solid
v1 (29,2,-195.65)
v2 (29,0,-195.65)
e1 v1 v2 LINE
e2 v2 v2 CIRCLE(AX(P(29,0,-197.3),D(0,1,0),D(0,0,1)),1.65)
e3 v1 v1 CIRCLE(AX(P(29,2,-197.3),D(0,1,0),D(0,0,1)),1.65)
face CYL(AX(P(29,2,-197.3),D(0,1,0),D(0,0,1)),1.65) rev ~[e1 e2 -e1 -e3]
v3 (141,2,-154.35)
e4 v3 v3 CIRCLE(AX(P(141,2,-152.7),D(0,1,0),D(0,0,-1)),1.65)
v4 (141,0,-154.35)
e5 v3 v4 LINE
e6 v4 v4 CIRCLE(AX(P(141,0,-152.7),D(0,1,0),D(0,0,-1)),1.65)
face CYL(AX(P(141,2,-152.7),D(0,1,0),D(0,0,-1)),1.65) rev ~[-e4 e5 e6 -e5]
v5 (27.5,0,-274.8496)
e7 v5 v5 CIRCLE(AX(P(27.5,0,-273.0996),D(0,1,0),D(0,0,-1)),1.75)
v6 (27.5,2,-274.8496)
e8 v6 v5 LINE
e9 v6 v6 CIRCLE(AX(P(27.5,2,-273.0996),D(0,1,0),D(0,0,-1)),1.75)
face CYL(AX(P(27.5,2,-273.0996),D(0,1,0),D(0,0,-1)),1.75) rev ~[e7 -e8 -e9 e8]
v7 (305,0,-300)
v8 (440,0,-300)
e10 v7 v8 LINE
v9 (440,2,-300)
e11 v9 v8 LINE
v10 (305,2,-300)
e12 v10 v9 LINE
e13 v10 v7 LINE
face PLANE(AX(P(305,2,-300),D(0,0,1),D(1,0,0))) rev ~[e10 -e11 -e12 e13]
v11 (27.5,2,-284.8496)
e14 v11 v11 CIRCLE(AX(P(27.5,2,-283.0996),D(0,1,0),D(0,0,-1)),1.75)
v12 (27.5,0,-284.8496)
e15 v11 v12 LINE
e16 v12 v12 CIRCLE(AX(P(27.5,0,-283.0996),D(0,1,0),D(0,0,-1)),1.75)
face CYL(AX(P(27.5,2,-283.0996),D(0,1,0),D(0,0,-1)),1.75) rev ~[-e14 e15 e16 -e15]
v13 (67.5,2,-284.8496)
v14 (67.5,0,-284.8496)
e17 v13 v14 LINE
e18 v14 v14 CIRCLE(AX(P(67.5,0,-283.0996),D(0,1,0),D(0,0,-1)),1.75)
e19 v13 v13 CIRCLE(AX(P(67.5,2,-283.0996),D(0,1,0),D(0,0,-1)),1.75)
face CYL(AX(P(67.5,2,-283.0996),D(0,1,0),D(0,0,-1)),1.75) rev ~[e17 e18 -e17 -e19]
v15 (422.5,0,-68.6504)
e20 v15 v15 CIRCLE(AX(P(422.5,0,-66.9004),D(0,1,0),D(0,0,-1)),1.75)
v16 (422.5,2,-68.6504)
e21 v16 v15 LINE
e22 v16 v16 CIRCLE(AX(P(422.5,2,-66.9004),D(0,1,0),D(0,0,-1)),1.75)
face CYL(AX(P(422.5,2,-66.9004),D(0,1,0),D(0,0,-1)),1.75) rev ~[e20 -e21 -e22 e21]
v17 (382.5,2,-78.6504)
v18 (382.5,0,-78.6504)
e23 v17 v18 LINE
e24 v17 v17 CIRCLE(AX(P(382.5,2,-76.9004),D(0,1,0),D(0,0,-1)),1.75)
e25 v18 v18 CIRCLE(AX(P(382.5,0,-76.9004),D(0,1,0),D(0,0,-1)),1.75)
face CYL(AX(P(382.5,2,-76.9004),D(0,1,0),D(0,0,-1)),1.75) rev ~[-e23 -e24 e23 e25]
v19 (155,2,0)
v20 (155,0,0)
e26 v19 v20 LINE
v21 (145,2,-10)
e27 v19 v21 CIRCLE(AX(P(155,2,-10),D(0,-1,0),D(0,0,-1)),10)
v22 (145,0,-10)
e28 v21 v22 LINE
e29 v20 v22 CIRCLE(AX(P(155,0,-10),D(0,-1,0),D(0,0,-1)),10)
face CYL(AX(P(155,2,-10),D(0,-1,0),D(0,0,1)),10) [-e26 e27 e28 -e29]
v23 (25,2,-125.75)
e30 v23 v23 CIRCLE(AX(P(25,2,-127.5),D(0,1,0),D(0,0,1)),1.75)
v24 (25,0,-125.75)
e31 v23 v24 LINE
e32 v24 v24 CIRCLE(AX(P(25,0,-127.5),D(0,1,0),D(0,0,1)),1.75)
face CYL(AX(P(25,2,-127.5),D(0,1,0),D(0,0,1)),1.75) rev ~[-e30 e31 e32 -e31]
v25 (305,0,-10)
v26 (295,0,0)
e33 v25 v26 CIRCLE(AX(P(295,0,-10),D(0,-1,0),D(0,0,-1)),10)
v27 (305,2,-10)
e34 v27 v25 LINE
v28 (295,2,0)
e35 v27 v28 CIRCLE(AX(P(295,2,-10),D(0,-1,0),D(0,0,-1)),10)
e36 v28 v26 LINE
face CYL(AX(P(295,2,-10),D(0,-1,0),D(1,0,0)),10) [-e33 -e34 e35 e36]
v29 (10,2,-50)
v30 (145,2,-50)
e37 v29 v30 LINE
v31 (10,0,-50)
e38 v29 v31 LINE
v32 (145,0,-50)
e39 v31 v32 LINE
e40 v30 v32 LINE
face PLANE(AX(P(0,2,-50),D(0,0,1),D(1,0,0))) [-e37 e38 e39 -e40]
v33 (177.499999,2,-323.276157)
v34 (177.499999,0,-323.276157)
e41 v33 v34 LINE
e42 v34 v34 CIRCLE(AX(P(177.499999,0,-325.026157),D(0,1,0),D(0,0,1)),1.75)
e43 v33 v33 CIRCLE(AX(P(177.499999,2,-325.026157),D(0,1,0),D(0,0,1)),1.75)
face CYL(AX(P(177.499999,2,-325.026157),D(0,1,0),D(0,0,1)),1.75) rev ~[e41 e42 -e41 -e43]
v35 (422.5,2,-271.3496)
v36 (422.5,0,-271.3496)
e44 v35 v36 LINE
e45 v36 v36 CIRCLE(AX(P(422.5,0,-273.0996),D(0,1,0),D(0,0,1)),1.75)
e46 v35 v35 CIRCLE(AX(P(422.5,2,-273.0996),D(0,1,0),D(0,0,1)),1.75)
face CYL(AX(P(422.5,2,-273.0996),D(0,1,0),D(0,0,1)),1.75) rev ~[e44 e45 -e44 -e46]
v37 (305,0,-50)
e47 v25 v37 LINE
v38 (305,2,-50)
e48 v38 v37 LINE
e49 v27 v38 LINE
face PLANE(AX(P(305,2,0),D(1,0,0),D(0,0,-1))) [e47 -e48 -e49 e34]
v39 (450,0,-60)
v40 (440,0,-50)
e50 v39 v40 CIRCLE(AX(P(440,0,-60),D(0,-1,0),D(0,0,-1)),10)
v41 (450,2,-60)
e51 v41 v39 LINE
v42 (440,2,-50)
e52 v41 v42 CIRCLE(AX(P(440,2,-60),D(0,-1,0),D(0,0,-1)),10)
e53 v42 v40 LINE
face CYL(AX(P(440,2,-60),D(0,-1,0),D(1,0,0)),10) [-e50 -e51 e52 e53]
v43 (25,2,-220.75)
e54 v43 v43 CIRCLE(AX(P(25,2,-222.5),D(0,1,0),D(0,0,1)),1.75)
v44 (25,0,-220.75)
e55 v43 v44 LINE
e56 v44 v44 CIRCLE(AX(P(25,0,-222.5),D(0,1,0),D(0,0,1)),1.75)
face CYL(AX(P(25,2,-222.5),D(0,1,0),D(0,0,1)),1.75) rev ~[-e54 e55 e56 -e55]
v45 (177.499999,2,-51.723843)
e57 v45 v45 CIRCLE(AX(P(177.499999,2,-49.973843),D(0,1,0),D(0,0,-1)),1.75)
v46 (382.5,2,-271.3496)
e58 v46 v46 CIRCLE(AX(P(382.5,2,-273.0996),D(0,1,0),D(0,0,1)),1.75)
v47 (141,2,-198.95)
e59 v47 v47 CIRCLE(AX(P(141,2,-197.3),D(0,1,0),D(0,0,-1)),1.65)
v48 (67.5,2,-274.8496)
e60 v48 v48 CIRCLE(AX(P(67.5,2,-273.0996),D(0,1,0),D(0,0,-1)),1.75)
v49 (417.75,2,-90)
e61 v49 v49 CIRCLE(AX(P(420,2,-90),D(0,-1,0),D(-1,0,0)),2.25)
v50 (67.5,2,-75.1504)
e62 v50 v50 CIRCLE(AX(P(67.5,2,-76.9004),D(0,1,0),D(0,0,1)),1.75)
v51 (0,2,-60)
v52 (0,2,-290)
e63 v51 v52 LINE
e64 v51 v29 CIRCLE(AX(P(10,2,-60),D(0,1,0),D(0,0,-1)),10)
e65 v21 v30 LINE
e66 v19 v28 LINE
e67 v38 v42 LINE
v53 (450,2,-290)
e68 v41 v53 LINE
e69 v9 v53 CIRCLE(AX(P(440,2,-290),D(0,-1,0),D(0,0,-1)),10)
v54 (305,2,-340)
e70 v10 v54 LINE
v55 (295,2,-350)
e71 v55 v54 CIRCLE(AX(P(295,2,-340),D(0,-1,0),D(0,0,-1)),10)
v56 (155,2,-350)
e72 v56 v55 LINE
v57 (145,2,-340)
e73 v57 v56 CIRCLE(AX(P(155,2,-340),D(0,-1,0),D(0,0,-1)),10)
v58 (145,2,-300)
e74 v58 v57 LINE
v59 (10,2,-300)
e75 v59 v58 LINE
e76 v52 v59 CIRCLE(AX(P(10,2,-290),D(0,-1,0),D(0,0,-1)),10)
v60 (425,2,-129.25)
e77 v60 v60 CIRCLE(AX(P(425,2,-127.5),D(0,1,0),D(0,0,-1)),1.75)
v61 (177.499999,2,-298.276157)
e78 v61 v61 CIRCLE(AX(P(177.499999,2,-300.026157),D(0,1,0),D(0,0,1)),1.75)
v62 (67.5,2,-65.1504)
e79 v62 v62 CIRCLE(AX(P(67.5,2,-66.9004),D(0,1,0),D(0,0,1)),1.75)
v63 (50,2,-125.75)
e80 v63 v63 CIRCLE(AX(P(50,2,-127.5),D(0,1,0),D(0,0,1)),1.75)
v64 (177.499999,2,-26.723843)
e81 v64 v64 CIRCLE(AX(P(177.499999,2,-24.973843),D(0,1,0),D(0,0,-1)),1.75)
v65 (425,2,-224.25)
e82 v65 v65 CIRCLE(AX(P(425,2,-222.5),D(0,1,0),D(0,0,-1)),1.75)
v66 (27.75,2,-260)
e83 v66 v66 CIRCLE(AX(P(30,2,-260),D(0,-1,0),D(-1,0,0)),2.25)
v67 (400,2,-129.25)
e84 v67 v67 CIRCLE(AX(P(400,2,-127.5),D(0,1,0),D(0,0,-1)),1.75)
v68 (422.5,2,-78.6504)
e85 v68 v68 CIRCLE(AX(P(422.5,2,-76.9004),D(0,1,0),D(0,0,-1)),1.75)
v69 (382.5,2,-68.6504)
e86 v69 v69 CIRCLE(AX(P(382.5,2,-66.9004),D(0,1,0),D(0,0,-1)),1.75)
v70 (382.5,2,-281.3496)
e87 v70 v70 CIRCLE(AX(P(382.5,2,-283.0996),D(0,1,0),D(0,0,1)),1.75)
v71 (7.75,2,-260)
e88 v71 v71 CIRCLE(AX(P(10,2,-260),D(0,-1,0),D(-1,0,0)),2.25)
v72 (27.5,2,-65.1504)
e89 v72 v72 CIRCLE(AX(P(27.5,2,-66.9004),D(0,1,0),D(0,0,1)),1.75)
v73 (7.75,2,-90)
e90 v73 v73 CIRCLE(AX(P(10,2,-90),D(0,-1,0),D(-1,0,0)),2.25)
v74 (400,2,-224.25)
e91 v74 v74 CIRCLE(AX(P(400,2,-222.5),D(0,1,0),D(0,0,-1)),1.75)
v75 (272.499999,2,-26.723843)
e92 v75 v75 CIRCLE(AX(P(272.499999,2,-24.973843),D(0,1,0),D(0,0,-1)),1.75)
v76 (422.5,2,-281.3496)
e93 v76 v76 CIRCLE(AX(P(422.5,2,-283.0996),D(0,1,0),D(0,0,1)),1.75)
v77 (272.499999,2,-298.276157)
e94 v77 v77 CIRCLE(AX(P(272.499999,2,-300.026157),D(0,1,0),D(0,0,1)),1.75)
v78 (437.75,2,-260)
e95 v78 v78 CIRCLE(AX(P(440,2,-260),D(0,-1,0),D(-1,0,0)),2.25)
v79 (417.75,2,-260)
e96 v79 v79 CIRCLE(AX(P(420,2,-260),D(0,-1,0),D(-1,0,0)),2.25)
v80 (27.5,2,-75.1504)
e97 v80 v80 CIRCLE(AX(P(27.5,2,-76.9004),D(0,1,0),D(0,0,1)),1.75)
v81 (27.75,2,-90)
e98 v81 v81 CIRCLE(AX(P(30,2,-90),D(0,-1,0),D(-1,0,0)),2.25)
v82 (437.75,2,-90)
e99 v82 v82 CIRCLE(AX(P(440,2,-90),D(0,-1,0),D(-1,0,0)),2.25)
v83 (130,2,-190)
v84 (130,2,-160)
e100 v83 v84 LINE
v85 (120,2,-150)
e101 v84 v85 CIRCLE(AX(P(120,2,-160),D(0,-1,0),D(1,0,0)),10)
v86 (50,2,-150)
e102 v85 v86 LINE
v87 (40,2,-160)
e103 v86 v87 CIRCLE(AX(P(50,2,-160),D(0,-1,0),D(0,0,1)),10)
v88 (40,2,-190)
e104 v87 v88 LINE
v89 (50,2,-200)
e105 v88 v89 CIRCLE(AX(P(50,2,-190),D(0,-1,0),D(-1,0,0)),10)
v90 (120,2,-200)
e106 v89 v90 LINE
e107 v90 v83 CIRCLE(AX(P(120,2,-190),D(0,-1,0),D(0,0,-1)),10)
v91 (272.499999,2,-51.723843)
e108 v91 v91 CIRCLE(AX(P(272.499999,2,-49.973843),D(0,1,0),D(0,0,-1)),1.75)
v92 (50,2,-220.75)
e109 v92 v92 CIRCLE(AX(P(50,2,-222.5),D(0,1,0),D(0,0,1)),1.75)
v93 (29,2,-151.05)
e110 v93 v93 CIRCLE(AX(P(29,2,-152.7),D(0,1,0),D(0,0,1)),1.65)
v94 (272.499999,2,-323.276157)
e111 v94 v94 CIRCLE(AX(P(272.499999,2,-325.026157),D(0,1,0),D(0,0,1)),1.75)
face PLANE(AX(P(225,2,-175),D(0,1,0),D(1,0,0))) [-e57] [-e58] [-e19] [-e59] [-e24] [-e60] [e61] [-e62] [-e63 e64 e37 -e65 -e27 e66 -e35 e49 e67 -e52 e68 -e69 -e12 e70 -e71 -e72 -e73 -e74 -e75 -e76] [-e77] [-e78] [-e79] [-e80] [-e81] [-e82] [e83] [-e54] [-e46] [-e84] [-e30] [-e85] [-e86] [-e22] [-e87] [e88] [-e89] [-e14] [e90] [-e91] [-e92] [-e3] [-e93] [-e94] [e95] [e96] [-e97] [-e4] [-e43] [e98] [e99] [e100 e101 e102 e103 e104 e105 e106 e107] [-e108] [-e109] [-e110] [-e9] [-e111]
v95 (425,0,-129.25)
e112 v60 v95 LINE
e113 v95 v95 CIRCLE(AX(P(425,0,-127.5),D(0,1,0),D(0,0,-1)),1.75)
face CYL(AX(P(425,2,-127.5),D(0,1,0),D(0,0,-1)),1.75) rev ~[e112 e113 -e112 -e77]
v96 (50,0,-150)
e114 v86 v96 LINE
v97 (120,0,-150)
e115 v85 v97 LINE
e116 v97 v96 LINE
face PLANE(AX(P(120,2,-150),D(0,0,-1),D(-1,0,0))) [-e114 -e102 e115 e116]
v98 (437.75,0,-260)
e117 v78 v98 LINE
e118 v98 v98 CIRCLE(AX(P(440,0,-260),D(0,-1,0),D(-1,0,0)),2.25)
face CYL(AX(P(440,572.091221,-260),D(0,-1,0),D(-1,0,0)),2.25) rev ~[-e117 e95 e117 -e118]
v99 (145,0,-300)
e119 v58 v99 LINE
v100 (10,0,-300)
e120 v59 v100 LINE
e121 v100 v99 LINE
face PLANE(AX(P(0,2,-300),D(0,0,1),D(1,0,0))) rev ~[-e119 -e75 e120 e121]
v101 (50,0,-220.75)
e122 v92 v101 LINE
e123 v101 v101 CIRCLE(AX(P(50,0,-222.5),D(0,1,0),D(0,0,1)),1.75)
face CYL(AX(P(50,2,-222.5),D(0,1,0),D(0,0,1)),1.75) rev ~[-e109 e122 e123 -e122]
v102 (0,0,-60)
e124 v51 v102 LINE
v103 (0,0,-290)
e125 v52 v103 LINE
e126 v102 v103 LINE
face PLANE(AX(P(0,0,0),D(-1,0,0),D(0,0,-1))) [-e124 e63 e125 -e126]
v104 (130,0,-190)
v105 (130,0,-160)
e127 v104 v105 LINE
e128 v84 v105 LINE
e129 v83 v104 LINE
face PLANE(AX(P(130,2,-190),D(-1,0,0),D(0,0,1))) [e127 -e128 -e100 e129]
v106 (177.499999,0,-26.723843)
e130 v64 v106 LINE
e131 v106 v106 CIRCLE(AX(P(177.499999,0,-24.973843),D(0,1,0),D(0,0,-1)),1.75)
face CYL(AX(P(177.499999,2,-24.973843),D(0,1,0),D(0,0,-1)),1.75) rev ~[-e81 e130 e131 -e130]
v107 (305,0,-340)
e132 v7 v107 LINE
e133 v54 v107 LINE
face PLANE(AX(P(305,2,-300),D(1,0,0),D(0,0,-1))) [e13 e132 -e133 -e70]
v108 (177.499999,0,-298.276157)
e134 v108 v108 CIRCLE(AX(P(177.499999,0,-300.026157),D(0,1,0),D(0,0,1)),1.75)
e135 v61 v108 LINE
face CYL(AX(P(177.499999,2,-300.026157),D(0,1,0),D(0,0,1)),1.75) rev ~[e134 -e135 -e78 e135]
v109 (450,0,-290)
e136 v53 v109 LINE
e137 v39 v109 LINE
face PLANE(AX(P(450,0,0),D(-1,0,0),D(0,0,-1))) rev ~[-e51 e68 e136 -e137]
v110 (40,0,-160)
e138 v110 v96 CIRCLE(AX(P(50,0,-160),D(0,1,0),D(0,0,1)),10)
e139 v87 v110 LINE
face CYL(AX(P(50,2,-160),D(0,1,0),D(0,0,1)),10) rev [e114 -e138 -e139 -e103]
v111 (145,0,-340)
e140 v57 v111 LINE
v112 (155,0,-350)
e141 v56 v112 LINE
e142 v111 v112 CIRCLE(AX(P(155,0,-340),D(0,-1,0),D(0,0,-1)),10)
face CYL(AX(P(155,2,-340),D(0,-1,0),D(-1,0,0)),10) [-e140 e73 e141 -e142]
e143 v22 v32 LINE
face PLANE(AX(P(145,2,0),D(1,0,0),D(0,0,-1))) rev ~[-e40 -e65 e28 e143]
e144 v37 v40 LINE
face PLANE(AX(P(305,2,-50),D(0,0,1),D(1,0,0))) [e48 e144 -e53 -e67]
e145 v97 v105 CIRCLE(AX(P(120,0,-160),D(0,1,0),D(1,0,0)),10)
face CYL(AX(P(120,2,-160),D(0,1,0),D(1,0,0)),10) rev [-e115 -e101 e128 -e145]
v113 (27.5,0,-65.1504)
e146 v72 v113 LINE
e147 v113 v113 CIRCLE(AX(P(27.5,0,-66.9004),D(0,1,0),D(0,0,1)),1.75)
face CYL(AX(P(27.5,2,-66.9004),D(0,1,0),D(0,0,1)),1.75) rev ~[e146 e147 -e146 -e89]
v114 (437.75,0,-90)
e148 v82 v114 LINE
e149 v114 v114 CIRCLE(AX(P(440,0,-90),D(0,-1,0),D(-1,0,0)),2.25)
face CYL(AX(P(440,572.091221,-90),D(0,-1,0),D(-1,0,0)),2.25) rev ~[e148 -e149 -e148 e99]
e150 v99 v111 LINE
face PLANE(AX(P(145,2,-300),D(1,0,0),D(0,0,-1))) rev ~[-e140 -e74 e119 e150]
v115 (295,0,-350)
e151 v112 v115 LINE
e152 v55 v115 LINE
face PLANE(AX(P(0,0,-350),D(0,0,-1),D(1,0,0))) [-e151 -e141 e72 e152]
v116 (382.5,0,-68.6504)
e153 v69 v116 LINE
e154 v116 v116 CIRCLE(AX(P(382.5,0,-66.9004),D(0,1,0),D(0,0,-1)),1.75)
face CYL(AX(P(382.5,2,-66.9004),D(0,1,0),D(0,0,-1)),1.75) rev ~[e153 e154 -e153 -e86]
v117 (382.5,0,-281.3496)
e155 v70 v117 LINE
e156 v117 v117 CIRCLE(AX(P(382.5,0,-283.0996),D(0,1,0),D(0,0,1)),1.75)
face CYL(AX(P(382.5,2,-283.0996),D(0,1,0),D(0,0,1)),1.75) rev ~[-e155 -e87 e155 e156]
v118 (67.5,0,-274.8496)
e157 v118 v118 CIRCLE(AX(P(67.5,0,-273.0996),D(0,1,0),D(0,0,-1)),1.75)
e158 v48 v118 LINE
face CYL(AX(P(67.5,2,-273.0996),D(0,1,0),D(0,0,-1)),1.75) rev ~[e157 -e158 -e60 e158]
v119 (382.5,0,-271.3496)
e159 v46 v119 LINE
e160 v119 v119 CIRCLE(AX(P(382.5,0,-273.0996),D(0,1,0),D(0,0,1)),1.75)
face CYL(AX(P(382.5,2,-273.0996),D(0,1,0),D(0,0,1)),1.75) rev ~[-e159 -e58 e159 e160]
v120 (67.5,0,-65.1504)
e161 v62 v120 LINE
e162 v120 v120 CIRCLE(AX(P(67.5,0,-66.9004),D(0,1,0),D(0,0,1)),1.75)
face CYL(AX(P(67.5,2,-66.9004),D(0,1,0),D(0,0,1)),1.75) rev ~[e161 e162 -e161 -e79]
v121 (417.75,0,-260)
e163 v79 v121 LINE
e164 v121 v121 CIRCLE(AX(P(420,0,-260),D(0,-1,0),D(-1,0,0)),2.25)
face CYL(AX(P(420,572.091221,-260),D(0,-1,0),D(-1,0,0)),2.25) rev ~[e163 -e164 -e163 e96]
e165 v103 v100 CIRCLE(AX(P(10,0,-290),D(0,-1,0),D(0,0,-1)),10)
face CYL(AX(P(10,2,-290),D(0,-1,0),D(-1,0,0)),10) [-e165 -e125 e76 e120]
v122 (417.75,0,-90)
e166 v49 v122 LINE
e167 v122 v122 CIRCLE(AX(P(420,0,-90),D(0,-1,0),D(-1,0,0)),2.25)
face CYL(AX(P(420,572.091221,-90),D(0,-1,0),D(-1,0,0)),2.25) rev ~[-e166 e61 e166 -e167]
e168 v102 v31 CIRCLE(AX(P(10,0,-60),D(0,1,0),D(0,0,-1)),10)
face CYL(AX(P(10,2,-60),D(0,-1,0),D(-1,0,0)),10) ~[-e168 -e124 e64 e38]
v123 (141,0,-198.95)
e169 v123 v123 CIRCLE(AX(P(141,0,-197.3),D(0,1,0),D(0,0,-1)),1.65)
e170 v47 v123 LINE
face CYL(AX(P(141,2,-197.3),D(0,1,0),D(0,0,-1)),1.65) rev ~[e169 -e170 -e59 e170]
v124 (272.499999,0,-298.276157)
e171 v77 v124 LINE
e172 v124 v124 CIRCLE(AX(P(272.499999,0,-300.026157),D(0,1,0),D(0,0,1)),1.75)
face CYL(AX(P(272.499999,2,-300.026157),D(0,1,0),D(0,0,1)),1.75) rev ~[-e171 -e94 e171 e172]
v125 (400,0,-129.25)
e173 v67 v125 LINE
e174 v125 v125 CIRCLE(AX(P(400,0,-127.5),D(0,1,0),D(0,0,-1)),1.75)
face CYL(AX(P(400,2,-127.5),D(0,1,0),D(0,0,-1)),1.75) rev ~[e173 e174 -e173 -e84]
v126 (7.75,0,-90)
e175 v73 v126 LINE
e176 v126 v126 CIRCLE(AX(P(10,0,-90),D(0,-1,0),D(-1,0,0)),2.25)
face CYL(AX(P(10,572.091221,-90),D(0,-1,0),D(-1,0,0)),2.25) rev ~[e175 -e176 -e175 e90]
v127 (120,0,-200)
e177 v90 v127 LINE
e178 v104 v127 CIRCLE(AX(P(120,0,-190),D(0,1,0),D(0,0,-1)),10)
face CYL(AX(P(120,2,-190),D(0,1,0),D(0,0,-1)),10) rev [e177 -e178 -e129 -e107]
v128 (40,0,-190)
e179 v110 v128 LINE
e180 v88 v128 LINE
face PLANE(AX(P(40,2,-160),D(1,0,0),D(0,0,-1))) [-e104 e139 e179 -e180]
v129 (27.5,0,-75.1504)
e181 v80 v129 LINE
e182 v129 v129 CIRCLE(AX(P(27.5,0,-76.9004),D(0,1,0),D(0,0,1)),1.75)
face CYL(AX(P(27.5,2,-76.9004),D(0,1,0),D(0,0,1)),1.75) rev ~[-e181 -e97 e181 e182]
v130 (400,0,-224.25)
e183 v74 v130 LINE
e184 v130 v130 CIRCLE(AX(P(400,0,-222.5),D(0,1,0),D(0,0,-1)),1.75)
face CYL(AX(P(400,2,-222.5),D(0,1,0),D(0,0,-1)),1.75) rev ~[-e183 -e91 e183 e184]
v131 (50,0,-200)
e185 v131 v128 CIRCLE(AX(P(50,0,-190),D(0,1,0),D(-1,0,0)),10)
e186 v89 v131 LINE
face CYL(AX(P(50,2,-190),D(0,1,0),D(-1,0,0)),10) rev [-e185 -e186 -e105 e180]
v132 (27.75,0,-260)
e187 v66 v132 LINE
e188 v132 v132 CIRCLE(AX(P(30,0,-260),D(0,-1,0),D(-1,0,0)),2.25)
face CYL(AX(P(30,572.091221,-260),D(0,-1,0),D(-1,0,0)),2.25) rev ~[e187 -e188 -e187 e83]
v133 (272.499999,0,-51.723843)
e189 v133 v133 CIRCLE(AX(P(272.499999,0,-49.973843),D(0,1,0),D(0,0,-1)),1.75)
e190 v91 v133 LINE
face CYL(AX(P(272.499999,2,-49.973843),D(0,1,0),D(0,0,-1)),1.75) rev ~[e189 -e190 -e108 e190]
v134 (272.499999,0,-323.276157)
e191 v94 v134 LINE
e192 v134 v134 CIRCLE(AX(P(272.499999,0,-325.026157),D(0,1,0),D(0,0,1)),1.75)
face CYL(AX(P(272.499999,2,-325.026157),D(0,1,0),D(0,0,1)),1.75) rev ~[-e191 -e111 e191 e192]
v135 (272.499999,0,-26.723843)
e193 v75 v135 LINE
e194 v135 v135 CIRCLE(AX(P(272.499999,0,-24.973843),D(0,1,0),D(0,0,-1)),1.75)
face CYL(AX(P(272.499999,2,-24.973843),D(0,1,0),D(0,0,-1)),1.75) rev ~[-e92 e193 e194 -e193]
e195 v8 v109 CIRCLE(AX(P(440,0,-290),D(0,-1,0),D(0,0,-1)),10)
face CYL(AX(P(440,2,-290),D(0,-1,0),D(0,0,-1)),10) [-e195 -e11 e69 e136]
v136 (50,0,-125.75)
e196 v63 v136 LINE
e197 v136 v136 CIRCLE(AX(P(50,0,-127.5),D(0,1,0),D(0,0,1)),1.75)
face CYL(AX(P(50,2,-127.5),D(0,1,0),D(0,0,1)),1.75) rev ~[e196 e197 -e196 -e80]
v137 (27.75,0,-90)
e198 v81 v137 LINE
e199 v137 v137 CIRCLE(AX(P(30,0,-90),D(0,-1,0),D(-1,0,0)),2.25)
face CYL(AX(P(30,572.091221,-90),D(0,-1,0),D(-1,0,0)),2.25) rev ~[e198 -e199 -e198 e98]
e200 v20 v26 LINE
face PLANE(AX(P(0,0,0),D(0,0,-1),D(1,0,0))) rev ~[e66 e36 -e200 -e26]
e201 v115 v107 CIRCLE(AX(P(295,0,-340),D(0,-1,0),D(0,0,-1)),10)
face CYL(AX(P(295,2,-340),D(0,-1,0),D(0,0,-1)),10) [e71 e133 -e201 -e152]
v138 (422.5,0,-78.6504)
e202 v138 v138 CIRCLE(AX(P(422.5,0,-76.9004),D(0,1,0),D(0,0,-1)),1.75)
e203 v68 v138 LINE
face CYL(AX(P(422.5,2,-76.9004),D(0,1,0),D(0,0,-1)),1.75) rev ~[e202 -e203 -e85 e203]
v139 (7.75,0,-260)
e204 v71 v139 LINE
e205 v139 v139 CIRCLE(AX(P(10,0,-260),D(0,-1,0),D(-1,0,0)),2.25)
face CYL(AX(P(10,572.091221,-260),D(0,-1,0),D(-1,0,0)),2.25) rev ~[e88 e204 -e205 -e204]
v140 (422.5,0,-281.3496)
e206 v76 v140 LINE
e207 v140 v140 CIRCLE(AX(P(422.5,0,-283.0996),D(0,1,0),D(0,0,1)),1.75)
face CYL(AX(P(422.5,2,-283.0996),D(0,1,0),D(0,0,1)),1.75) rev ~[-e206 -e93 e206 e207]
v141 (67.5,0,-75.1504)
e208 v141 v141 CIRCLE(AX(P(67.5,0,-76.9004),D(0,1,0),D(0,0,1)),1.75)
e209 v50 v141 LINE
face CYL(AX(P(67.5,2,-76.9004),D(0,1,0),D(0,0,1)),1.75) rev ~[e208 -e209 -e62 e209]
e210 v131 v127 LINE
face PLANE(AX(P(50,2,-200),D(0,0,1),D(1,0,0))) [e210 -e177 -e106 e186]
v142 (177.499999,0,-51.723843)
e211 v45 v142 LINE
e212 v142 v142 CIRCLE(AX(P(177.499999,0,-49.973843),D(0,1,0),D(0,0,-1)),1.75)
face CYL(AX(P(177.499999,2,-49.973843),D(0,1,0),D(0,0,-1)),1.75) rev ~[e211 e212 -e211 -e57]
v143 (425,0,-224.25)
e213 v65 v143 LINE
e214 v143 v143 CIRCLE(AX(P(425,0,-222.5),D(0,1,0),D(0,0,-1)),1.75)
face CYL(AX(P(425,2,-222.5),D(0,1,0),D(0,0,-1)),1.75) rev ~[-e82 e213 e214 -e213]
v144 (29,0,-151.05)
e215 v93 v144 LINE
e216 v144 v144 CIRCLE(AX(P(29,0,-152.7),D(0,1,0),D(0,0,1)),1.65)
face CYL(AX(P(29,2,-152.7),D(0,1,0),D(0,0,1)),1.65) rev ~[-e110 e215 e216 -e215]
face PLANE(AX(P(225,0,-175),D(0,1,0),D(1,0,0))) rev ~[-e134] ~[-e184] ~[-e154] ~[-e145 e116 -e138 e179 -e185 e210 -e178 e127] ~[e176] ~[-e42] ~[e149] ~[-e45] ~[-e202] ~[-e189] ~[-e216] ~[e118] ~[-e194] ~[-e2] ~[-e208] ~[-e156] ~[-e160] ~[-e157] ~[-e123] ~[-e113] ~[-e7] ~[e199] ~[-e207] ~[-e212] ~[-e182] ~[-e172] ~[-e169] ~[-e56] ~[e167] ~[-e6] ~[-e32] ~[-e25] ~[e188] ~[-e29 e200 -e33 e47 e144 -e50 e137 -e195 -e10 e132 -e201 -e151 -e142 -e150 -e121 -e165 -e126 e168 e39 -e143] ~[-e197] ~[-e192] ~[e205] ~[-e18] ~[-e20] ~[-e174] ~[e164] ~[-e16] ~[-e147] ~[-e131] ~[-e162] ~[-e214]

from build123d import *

# Parameters (mm, degrees)
SKETCH5_W            = 450
SKETCH5_H            = 350
BOSS_EXTRUDE1_DEPTH  = 2
FILLET1_R            = 10
CUT_EXTRUDE1_DEPTH   = 571.091220771
M4_CLEARANCE_HOLE1_D = 4.5
SKETCH13_R           = 1.75
CUT_EXTRUDE2_DEPTH   = 571.091220771
SKETCH14_R           = 1.75
CUT_EXTRUDE3_DEPTH   = 571.091220771
SKETCH15_W           = 145
SKETCH15_H           = 50
CUT_EXTRUDE4_DEPTH   = 571.091220771
FILLET2_R            = 10
SKETCH16_R           = 1.65
CUT_EXTRUDE5_DEPTH   = 571.091220771


with BuildPart() as part:
    # Sketch5 → Boss-Extrude1 (new body)
    with BuildSketch(Plane(origin=(0, 0, 0), x_dir=(1, 0, 0), z_dir=(0, 1, 0))):
        with Locations((225, 175)):
            Rectangle(SKETCH5_W, SKETCH5_H)
    extrude(amount=BOSS_EXTRUDE1_DEPTH)

    # Fillet1
    fillet1_edges = [part.edges().sort_by_distance(p)[0] for p in [
        (0, 1, 0),
        (0, 1, -350),
        (450, 1, -350),
        (450, 1, 0),
    ]]
    fillet(fillet1_edges, radius=FILLET1_R)

    # Sketch6 → Cut-Extrude1 (cut, through all)
    with BuildSketch(Plane(origin=(0, 2, 0), x_dir=(1, 0, 0), z_dir=(0, 1, 0))):
        with BuildLine():
            Line((130, 190), (130, 160))
            ThreePointArc((130, 160), (127.071067812, 152.928932188), (120, 150))
            Line((120, 150), (50, 150))
            ThreePointArc((50, 150), (42.928932188, 152.928932188), (40, 160))
            Line((40, 160), (40, 190))
            ThreePointArc((40, 190), (42.928932188, 197.071067812), (50, 200))
            Line((50, 200), (120, 200))
            ThreePointArc((120, 200), (127.071067812, 197.071067812), (130, 190))
        make_face()
    extrude(amount=-CUT_EXTRUDE1_DEPTH, mode=Mode.SUBTRACT)

    # M4 Clearance Hole1 (through all)
    with Locations(Plane(origin=(0, 2, 0), x_dir=(1, 0, 0), z_dir=(0, 1, 0))):
        with Locations((135, 10), (135, 30), (10, 90), (30, 90), (315, 10), (315, 30), (420, 90), (440, 90), (440, 260), (420, 260), (315, 340), (315, 320), (135, 340), (135, 320), (30, 260), (10, 260)):
            Hole(M4_CLEARANCE_HOLE1_D / 2)

    # Sketch13 → Cut-Extrude2 (cut, through all)
    with BuildSketch(Plane(origin=(0, 2, 0), x_dir=(1, 0, 0), z_dir=(0, 1, 0))):
        with Locations(Location((272.499999169, 49.973842701, 0), (0, 0, 90))):
            Circle(SKETCH13_R)
        with Locations(Location((272.499999169, 24.973842701, 0), (0, 0, 90))):
            Circle(SKETCH13_R)
        with Locations(Location((177.499999169, 49.973842701, 0), (0, 0, 90))):
            Circle(SKETCH13_R)
        with Locations(Location((177.499999169, 24.973842701, 0), (0, 0, 90))):
            Circle(SKETCH13_R)
        with Locations(Location((25, 222.5, 0), (0, 0, 270))):
            Circle(SKETCH13_R)
        with Locations(Location((50, 222.5, 0), (0, 0, 270))):
            Circle(SKETCH13_R)
        with Locations(Location((50, 127.5, 0), (0, 0, 270))):
            Circle(SKETCH13_R)
        with Locations(Location((25, 127.5, 0), (0, 0, 270))):
            Circle(SKETCH13_R)
        with Locations(Location((177.499999169, 325.026157299, 0), (0, 0, 270))):
            Circle(SKETCH13_R)
        with Locations(Location((272.499999169, 325.026157299, 0), (0, 0, 270))):
            Circle(SKETCH13_R)
        with Locations(Location((272.499999169, 300.026157299, 0), (0, 0, 270))):
            Circle(SKETCH13_R)
        with Locations(Location((177.499999169, 300.026157299, 0), (0, 0, 270))):
            Circle(SKETCH13_R)
        with Locations(Location((425, 127.5, 0), (0, 0, 90))):
            Circle(SKETCH13_R)
        with Locations(Location((400, 127.5, 0), (0, 0, 90))):
            Circle(SKETCH13_R)
        with Locations(Location((400, 222.5, 0), (0, 0, 90))):
            Circle(SKETCH13_R)
        with Locations(Location((425, 222.5, 0), (0, 0, 90))):
            Circle(SKETCH13_R)
    extrude(amount=-CUT_EXTRUDE2_DEPTH, mode=Mode.SUBTRACT)

    # Sketch14 → Cut-Extrude3 (cut, through all)
    with BuildSketch(Plane(origin=(0, 2, 0), x_dir=(1, 0, 0), z_dir=(0, 1, 0))):
        with Locations(Location((27.5, 76.9004, 0), (0, 0, 270))):
            Circle(SKETCH14_R)
        with Locations(Location((67.5, 76.9004, 0), (0, 0, 270))):
            Circle(SKETCH14_R)
        with Locations(Location((67.5, 66.9004, 0), (0, 0, 270))):
            Circle(SKETCH14_R)
        with Locations(Location((27.5, 66.9004, 0), (0, 0, 270))):
            Circle(SKETCH14_R)
        with Locations(Location((67.5, 283.0996, 0), (0, 0, 90))):
            Circle(SKETCH14_R)
        with Locations(Location((67.5, 273.0996, 0), (0, 0, 90))):
            Circle(SKETCH14_R)
        with Locations(Location((27.5, 283.0996, 0), (0, 0, 90))):
            Circle(SKETCH14_R)
        with Locations(Location((27.5, 273.0996, 0), (0, 0, 90))):
            Circle(SKETCH14_R)
        with Locations(Location((382.5, 273.0996, 0), (0, 0, 270))):
            Circle(SKETCH14_R)
        with Locations(Location((382.5, 283.0996, 0), (0, 0, 270))):
            Circle(SKETCH14_R)
        with Locations(Location((422.5, 283.0996, 0), (0, 0, 270))):
            Circle(SKETCH14_R)
        with Locations(Location((422.5, 273.0996, 0), (0, 0, 270))):
            Circle(SKETCH14_R)
        with Locations(Location((422.5, 66.9004, 0), (0, 0, 90))):
            Circle(SKETCH14_R)
        with Locations(Location((382.5, 66.9004, 0), (0, 0, 90))):
            Circle(SKETCH14_R)
        with Locations(Location((382.5, 76.9004, 0), (0, 0, 90))):
            Circle(SKETCH14_R)
        with Locations(Location((422.5, 76.9004, 0), (0, 0, 90))):
            Circle(SKETCH14_R)
    extrude(amount=-CUT_EXTRUDE3_DEPTH, mode=Mode.SUBTRACT)

    # Sketch15 → Cut-Extrude4 (cut, through all)
    with BuildSketch(Plane(origin=(0, 2, 0), x_dir=(1, 0, 0), z_dir=(0, 1, 0))):
        with Locations((72.5, 325)):
            Rectangle(SKETCH15_W, SKETCH15_H)
        with Locations((72.5, 25)):
            Rectangle(SKETCH15_W, SKETCH15_H)
        with Locations((377.5, 25)):
            Rectangle(SKETCH15_W, SKETCH15_H)
        with Locations((377.5, 325)):
            Rectangle(SKETCH15_W, SKETCH15_H)
    extrude(amount=-CUT_EXTRUDE4_DEPTH, mode=Mode.SUBTRACT)

    # Fillet2
    fillet2_edges = [part.edges().sort_by_distance(p)[0] for p in [
        (305, 1, -350),
        (450, 1, -300),
        (450, 1, -50),
        (305, 1, 0),
        (145, 1, 0),
        (0, 1, -50),
        (0, 1, -300),
        (145, 1, -350),
    ]]
    fillet(fillet2_edges, radius=FILLET2_R)

    # Sketch16 → Cut-Extrude5 (cut, through all)
    with BuildSketch(Plane(origin=(0, 2, 0), x_dir=(1, 0, 0), z_dir=(0, 1, 0))):
        with Locations(Location((29, 197.3, 0), (0, 0, 270))):
            Circle(SKETCH16_R)
        with Locations(Location((29, 152.7, 0), (0, 0, 270))):
            Circle(SKETCH16_R)
        with Locations(Location((141, 152.7, 0), (0, 0, 90))):
            Circle(SKETCH16_R)
        with Locations(Location((141, 197.3, 0), (0, 0, 90))):
            Circle(SKETCH16_R)
    extrude(amount=-CUT_EXTRUDE5_DEPTH, mode=Mode.SUBTRACT)


solid = part.part
